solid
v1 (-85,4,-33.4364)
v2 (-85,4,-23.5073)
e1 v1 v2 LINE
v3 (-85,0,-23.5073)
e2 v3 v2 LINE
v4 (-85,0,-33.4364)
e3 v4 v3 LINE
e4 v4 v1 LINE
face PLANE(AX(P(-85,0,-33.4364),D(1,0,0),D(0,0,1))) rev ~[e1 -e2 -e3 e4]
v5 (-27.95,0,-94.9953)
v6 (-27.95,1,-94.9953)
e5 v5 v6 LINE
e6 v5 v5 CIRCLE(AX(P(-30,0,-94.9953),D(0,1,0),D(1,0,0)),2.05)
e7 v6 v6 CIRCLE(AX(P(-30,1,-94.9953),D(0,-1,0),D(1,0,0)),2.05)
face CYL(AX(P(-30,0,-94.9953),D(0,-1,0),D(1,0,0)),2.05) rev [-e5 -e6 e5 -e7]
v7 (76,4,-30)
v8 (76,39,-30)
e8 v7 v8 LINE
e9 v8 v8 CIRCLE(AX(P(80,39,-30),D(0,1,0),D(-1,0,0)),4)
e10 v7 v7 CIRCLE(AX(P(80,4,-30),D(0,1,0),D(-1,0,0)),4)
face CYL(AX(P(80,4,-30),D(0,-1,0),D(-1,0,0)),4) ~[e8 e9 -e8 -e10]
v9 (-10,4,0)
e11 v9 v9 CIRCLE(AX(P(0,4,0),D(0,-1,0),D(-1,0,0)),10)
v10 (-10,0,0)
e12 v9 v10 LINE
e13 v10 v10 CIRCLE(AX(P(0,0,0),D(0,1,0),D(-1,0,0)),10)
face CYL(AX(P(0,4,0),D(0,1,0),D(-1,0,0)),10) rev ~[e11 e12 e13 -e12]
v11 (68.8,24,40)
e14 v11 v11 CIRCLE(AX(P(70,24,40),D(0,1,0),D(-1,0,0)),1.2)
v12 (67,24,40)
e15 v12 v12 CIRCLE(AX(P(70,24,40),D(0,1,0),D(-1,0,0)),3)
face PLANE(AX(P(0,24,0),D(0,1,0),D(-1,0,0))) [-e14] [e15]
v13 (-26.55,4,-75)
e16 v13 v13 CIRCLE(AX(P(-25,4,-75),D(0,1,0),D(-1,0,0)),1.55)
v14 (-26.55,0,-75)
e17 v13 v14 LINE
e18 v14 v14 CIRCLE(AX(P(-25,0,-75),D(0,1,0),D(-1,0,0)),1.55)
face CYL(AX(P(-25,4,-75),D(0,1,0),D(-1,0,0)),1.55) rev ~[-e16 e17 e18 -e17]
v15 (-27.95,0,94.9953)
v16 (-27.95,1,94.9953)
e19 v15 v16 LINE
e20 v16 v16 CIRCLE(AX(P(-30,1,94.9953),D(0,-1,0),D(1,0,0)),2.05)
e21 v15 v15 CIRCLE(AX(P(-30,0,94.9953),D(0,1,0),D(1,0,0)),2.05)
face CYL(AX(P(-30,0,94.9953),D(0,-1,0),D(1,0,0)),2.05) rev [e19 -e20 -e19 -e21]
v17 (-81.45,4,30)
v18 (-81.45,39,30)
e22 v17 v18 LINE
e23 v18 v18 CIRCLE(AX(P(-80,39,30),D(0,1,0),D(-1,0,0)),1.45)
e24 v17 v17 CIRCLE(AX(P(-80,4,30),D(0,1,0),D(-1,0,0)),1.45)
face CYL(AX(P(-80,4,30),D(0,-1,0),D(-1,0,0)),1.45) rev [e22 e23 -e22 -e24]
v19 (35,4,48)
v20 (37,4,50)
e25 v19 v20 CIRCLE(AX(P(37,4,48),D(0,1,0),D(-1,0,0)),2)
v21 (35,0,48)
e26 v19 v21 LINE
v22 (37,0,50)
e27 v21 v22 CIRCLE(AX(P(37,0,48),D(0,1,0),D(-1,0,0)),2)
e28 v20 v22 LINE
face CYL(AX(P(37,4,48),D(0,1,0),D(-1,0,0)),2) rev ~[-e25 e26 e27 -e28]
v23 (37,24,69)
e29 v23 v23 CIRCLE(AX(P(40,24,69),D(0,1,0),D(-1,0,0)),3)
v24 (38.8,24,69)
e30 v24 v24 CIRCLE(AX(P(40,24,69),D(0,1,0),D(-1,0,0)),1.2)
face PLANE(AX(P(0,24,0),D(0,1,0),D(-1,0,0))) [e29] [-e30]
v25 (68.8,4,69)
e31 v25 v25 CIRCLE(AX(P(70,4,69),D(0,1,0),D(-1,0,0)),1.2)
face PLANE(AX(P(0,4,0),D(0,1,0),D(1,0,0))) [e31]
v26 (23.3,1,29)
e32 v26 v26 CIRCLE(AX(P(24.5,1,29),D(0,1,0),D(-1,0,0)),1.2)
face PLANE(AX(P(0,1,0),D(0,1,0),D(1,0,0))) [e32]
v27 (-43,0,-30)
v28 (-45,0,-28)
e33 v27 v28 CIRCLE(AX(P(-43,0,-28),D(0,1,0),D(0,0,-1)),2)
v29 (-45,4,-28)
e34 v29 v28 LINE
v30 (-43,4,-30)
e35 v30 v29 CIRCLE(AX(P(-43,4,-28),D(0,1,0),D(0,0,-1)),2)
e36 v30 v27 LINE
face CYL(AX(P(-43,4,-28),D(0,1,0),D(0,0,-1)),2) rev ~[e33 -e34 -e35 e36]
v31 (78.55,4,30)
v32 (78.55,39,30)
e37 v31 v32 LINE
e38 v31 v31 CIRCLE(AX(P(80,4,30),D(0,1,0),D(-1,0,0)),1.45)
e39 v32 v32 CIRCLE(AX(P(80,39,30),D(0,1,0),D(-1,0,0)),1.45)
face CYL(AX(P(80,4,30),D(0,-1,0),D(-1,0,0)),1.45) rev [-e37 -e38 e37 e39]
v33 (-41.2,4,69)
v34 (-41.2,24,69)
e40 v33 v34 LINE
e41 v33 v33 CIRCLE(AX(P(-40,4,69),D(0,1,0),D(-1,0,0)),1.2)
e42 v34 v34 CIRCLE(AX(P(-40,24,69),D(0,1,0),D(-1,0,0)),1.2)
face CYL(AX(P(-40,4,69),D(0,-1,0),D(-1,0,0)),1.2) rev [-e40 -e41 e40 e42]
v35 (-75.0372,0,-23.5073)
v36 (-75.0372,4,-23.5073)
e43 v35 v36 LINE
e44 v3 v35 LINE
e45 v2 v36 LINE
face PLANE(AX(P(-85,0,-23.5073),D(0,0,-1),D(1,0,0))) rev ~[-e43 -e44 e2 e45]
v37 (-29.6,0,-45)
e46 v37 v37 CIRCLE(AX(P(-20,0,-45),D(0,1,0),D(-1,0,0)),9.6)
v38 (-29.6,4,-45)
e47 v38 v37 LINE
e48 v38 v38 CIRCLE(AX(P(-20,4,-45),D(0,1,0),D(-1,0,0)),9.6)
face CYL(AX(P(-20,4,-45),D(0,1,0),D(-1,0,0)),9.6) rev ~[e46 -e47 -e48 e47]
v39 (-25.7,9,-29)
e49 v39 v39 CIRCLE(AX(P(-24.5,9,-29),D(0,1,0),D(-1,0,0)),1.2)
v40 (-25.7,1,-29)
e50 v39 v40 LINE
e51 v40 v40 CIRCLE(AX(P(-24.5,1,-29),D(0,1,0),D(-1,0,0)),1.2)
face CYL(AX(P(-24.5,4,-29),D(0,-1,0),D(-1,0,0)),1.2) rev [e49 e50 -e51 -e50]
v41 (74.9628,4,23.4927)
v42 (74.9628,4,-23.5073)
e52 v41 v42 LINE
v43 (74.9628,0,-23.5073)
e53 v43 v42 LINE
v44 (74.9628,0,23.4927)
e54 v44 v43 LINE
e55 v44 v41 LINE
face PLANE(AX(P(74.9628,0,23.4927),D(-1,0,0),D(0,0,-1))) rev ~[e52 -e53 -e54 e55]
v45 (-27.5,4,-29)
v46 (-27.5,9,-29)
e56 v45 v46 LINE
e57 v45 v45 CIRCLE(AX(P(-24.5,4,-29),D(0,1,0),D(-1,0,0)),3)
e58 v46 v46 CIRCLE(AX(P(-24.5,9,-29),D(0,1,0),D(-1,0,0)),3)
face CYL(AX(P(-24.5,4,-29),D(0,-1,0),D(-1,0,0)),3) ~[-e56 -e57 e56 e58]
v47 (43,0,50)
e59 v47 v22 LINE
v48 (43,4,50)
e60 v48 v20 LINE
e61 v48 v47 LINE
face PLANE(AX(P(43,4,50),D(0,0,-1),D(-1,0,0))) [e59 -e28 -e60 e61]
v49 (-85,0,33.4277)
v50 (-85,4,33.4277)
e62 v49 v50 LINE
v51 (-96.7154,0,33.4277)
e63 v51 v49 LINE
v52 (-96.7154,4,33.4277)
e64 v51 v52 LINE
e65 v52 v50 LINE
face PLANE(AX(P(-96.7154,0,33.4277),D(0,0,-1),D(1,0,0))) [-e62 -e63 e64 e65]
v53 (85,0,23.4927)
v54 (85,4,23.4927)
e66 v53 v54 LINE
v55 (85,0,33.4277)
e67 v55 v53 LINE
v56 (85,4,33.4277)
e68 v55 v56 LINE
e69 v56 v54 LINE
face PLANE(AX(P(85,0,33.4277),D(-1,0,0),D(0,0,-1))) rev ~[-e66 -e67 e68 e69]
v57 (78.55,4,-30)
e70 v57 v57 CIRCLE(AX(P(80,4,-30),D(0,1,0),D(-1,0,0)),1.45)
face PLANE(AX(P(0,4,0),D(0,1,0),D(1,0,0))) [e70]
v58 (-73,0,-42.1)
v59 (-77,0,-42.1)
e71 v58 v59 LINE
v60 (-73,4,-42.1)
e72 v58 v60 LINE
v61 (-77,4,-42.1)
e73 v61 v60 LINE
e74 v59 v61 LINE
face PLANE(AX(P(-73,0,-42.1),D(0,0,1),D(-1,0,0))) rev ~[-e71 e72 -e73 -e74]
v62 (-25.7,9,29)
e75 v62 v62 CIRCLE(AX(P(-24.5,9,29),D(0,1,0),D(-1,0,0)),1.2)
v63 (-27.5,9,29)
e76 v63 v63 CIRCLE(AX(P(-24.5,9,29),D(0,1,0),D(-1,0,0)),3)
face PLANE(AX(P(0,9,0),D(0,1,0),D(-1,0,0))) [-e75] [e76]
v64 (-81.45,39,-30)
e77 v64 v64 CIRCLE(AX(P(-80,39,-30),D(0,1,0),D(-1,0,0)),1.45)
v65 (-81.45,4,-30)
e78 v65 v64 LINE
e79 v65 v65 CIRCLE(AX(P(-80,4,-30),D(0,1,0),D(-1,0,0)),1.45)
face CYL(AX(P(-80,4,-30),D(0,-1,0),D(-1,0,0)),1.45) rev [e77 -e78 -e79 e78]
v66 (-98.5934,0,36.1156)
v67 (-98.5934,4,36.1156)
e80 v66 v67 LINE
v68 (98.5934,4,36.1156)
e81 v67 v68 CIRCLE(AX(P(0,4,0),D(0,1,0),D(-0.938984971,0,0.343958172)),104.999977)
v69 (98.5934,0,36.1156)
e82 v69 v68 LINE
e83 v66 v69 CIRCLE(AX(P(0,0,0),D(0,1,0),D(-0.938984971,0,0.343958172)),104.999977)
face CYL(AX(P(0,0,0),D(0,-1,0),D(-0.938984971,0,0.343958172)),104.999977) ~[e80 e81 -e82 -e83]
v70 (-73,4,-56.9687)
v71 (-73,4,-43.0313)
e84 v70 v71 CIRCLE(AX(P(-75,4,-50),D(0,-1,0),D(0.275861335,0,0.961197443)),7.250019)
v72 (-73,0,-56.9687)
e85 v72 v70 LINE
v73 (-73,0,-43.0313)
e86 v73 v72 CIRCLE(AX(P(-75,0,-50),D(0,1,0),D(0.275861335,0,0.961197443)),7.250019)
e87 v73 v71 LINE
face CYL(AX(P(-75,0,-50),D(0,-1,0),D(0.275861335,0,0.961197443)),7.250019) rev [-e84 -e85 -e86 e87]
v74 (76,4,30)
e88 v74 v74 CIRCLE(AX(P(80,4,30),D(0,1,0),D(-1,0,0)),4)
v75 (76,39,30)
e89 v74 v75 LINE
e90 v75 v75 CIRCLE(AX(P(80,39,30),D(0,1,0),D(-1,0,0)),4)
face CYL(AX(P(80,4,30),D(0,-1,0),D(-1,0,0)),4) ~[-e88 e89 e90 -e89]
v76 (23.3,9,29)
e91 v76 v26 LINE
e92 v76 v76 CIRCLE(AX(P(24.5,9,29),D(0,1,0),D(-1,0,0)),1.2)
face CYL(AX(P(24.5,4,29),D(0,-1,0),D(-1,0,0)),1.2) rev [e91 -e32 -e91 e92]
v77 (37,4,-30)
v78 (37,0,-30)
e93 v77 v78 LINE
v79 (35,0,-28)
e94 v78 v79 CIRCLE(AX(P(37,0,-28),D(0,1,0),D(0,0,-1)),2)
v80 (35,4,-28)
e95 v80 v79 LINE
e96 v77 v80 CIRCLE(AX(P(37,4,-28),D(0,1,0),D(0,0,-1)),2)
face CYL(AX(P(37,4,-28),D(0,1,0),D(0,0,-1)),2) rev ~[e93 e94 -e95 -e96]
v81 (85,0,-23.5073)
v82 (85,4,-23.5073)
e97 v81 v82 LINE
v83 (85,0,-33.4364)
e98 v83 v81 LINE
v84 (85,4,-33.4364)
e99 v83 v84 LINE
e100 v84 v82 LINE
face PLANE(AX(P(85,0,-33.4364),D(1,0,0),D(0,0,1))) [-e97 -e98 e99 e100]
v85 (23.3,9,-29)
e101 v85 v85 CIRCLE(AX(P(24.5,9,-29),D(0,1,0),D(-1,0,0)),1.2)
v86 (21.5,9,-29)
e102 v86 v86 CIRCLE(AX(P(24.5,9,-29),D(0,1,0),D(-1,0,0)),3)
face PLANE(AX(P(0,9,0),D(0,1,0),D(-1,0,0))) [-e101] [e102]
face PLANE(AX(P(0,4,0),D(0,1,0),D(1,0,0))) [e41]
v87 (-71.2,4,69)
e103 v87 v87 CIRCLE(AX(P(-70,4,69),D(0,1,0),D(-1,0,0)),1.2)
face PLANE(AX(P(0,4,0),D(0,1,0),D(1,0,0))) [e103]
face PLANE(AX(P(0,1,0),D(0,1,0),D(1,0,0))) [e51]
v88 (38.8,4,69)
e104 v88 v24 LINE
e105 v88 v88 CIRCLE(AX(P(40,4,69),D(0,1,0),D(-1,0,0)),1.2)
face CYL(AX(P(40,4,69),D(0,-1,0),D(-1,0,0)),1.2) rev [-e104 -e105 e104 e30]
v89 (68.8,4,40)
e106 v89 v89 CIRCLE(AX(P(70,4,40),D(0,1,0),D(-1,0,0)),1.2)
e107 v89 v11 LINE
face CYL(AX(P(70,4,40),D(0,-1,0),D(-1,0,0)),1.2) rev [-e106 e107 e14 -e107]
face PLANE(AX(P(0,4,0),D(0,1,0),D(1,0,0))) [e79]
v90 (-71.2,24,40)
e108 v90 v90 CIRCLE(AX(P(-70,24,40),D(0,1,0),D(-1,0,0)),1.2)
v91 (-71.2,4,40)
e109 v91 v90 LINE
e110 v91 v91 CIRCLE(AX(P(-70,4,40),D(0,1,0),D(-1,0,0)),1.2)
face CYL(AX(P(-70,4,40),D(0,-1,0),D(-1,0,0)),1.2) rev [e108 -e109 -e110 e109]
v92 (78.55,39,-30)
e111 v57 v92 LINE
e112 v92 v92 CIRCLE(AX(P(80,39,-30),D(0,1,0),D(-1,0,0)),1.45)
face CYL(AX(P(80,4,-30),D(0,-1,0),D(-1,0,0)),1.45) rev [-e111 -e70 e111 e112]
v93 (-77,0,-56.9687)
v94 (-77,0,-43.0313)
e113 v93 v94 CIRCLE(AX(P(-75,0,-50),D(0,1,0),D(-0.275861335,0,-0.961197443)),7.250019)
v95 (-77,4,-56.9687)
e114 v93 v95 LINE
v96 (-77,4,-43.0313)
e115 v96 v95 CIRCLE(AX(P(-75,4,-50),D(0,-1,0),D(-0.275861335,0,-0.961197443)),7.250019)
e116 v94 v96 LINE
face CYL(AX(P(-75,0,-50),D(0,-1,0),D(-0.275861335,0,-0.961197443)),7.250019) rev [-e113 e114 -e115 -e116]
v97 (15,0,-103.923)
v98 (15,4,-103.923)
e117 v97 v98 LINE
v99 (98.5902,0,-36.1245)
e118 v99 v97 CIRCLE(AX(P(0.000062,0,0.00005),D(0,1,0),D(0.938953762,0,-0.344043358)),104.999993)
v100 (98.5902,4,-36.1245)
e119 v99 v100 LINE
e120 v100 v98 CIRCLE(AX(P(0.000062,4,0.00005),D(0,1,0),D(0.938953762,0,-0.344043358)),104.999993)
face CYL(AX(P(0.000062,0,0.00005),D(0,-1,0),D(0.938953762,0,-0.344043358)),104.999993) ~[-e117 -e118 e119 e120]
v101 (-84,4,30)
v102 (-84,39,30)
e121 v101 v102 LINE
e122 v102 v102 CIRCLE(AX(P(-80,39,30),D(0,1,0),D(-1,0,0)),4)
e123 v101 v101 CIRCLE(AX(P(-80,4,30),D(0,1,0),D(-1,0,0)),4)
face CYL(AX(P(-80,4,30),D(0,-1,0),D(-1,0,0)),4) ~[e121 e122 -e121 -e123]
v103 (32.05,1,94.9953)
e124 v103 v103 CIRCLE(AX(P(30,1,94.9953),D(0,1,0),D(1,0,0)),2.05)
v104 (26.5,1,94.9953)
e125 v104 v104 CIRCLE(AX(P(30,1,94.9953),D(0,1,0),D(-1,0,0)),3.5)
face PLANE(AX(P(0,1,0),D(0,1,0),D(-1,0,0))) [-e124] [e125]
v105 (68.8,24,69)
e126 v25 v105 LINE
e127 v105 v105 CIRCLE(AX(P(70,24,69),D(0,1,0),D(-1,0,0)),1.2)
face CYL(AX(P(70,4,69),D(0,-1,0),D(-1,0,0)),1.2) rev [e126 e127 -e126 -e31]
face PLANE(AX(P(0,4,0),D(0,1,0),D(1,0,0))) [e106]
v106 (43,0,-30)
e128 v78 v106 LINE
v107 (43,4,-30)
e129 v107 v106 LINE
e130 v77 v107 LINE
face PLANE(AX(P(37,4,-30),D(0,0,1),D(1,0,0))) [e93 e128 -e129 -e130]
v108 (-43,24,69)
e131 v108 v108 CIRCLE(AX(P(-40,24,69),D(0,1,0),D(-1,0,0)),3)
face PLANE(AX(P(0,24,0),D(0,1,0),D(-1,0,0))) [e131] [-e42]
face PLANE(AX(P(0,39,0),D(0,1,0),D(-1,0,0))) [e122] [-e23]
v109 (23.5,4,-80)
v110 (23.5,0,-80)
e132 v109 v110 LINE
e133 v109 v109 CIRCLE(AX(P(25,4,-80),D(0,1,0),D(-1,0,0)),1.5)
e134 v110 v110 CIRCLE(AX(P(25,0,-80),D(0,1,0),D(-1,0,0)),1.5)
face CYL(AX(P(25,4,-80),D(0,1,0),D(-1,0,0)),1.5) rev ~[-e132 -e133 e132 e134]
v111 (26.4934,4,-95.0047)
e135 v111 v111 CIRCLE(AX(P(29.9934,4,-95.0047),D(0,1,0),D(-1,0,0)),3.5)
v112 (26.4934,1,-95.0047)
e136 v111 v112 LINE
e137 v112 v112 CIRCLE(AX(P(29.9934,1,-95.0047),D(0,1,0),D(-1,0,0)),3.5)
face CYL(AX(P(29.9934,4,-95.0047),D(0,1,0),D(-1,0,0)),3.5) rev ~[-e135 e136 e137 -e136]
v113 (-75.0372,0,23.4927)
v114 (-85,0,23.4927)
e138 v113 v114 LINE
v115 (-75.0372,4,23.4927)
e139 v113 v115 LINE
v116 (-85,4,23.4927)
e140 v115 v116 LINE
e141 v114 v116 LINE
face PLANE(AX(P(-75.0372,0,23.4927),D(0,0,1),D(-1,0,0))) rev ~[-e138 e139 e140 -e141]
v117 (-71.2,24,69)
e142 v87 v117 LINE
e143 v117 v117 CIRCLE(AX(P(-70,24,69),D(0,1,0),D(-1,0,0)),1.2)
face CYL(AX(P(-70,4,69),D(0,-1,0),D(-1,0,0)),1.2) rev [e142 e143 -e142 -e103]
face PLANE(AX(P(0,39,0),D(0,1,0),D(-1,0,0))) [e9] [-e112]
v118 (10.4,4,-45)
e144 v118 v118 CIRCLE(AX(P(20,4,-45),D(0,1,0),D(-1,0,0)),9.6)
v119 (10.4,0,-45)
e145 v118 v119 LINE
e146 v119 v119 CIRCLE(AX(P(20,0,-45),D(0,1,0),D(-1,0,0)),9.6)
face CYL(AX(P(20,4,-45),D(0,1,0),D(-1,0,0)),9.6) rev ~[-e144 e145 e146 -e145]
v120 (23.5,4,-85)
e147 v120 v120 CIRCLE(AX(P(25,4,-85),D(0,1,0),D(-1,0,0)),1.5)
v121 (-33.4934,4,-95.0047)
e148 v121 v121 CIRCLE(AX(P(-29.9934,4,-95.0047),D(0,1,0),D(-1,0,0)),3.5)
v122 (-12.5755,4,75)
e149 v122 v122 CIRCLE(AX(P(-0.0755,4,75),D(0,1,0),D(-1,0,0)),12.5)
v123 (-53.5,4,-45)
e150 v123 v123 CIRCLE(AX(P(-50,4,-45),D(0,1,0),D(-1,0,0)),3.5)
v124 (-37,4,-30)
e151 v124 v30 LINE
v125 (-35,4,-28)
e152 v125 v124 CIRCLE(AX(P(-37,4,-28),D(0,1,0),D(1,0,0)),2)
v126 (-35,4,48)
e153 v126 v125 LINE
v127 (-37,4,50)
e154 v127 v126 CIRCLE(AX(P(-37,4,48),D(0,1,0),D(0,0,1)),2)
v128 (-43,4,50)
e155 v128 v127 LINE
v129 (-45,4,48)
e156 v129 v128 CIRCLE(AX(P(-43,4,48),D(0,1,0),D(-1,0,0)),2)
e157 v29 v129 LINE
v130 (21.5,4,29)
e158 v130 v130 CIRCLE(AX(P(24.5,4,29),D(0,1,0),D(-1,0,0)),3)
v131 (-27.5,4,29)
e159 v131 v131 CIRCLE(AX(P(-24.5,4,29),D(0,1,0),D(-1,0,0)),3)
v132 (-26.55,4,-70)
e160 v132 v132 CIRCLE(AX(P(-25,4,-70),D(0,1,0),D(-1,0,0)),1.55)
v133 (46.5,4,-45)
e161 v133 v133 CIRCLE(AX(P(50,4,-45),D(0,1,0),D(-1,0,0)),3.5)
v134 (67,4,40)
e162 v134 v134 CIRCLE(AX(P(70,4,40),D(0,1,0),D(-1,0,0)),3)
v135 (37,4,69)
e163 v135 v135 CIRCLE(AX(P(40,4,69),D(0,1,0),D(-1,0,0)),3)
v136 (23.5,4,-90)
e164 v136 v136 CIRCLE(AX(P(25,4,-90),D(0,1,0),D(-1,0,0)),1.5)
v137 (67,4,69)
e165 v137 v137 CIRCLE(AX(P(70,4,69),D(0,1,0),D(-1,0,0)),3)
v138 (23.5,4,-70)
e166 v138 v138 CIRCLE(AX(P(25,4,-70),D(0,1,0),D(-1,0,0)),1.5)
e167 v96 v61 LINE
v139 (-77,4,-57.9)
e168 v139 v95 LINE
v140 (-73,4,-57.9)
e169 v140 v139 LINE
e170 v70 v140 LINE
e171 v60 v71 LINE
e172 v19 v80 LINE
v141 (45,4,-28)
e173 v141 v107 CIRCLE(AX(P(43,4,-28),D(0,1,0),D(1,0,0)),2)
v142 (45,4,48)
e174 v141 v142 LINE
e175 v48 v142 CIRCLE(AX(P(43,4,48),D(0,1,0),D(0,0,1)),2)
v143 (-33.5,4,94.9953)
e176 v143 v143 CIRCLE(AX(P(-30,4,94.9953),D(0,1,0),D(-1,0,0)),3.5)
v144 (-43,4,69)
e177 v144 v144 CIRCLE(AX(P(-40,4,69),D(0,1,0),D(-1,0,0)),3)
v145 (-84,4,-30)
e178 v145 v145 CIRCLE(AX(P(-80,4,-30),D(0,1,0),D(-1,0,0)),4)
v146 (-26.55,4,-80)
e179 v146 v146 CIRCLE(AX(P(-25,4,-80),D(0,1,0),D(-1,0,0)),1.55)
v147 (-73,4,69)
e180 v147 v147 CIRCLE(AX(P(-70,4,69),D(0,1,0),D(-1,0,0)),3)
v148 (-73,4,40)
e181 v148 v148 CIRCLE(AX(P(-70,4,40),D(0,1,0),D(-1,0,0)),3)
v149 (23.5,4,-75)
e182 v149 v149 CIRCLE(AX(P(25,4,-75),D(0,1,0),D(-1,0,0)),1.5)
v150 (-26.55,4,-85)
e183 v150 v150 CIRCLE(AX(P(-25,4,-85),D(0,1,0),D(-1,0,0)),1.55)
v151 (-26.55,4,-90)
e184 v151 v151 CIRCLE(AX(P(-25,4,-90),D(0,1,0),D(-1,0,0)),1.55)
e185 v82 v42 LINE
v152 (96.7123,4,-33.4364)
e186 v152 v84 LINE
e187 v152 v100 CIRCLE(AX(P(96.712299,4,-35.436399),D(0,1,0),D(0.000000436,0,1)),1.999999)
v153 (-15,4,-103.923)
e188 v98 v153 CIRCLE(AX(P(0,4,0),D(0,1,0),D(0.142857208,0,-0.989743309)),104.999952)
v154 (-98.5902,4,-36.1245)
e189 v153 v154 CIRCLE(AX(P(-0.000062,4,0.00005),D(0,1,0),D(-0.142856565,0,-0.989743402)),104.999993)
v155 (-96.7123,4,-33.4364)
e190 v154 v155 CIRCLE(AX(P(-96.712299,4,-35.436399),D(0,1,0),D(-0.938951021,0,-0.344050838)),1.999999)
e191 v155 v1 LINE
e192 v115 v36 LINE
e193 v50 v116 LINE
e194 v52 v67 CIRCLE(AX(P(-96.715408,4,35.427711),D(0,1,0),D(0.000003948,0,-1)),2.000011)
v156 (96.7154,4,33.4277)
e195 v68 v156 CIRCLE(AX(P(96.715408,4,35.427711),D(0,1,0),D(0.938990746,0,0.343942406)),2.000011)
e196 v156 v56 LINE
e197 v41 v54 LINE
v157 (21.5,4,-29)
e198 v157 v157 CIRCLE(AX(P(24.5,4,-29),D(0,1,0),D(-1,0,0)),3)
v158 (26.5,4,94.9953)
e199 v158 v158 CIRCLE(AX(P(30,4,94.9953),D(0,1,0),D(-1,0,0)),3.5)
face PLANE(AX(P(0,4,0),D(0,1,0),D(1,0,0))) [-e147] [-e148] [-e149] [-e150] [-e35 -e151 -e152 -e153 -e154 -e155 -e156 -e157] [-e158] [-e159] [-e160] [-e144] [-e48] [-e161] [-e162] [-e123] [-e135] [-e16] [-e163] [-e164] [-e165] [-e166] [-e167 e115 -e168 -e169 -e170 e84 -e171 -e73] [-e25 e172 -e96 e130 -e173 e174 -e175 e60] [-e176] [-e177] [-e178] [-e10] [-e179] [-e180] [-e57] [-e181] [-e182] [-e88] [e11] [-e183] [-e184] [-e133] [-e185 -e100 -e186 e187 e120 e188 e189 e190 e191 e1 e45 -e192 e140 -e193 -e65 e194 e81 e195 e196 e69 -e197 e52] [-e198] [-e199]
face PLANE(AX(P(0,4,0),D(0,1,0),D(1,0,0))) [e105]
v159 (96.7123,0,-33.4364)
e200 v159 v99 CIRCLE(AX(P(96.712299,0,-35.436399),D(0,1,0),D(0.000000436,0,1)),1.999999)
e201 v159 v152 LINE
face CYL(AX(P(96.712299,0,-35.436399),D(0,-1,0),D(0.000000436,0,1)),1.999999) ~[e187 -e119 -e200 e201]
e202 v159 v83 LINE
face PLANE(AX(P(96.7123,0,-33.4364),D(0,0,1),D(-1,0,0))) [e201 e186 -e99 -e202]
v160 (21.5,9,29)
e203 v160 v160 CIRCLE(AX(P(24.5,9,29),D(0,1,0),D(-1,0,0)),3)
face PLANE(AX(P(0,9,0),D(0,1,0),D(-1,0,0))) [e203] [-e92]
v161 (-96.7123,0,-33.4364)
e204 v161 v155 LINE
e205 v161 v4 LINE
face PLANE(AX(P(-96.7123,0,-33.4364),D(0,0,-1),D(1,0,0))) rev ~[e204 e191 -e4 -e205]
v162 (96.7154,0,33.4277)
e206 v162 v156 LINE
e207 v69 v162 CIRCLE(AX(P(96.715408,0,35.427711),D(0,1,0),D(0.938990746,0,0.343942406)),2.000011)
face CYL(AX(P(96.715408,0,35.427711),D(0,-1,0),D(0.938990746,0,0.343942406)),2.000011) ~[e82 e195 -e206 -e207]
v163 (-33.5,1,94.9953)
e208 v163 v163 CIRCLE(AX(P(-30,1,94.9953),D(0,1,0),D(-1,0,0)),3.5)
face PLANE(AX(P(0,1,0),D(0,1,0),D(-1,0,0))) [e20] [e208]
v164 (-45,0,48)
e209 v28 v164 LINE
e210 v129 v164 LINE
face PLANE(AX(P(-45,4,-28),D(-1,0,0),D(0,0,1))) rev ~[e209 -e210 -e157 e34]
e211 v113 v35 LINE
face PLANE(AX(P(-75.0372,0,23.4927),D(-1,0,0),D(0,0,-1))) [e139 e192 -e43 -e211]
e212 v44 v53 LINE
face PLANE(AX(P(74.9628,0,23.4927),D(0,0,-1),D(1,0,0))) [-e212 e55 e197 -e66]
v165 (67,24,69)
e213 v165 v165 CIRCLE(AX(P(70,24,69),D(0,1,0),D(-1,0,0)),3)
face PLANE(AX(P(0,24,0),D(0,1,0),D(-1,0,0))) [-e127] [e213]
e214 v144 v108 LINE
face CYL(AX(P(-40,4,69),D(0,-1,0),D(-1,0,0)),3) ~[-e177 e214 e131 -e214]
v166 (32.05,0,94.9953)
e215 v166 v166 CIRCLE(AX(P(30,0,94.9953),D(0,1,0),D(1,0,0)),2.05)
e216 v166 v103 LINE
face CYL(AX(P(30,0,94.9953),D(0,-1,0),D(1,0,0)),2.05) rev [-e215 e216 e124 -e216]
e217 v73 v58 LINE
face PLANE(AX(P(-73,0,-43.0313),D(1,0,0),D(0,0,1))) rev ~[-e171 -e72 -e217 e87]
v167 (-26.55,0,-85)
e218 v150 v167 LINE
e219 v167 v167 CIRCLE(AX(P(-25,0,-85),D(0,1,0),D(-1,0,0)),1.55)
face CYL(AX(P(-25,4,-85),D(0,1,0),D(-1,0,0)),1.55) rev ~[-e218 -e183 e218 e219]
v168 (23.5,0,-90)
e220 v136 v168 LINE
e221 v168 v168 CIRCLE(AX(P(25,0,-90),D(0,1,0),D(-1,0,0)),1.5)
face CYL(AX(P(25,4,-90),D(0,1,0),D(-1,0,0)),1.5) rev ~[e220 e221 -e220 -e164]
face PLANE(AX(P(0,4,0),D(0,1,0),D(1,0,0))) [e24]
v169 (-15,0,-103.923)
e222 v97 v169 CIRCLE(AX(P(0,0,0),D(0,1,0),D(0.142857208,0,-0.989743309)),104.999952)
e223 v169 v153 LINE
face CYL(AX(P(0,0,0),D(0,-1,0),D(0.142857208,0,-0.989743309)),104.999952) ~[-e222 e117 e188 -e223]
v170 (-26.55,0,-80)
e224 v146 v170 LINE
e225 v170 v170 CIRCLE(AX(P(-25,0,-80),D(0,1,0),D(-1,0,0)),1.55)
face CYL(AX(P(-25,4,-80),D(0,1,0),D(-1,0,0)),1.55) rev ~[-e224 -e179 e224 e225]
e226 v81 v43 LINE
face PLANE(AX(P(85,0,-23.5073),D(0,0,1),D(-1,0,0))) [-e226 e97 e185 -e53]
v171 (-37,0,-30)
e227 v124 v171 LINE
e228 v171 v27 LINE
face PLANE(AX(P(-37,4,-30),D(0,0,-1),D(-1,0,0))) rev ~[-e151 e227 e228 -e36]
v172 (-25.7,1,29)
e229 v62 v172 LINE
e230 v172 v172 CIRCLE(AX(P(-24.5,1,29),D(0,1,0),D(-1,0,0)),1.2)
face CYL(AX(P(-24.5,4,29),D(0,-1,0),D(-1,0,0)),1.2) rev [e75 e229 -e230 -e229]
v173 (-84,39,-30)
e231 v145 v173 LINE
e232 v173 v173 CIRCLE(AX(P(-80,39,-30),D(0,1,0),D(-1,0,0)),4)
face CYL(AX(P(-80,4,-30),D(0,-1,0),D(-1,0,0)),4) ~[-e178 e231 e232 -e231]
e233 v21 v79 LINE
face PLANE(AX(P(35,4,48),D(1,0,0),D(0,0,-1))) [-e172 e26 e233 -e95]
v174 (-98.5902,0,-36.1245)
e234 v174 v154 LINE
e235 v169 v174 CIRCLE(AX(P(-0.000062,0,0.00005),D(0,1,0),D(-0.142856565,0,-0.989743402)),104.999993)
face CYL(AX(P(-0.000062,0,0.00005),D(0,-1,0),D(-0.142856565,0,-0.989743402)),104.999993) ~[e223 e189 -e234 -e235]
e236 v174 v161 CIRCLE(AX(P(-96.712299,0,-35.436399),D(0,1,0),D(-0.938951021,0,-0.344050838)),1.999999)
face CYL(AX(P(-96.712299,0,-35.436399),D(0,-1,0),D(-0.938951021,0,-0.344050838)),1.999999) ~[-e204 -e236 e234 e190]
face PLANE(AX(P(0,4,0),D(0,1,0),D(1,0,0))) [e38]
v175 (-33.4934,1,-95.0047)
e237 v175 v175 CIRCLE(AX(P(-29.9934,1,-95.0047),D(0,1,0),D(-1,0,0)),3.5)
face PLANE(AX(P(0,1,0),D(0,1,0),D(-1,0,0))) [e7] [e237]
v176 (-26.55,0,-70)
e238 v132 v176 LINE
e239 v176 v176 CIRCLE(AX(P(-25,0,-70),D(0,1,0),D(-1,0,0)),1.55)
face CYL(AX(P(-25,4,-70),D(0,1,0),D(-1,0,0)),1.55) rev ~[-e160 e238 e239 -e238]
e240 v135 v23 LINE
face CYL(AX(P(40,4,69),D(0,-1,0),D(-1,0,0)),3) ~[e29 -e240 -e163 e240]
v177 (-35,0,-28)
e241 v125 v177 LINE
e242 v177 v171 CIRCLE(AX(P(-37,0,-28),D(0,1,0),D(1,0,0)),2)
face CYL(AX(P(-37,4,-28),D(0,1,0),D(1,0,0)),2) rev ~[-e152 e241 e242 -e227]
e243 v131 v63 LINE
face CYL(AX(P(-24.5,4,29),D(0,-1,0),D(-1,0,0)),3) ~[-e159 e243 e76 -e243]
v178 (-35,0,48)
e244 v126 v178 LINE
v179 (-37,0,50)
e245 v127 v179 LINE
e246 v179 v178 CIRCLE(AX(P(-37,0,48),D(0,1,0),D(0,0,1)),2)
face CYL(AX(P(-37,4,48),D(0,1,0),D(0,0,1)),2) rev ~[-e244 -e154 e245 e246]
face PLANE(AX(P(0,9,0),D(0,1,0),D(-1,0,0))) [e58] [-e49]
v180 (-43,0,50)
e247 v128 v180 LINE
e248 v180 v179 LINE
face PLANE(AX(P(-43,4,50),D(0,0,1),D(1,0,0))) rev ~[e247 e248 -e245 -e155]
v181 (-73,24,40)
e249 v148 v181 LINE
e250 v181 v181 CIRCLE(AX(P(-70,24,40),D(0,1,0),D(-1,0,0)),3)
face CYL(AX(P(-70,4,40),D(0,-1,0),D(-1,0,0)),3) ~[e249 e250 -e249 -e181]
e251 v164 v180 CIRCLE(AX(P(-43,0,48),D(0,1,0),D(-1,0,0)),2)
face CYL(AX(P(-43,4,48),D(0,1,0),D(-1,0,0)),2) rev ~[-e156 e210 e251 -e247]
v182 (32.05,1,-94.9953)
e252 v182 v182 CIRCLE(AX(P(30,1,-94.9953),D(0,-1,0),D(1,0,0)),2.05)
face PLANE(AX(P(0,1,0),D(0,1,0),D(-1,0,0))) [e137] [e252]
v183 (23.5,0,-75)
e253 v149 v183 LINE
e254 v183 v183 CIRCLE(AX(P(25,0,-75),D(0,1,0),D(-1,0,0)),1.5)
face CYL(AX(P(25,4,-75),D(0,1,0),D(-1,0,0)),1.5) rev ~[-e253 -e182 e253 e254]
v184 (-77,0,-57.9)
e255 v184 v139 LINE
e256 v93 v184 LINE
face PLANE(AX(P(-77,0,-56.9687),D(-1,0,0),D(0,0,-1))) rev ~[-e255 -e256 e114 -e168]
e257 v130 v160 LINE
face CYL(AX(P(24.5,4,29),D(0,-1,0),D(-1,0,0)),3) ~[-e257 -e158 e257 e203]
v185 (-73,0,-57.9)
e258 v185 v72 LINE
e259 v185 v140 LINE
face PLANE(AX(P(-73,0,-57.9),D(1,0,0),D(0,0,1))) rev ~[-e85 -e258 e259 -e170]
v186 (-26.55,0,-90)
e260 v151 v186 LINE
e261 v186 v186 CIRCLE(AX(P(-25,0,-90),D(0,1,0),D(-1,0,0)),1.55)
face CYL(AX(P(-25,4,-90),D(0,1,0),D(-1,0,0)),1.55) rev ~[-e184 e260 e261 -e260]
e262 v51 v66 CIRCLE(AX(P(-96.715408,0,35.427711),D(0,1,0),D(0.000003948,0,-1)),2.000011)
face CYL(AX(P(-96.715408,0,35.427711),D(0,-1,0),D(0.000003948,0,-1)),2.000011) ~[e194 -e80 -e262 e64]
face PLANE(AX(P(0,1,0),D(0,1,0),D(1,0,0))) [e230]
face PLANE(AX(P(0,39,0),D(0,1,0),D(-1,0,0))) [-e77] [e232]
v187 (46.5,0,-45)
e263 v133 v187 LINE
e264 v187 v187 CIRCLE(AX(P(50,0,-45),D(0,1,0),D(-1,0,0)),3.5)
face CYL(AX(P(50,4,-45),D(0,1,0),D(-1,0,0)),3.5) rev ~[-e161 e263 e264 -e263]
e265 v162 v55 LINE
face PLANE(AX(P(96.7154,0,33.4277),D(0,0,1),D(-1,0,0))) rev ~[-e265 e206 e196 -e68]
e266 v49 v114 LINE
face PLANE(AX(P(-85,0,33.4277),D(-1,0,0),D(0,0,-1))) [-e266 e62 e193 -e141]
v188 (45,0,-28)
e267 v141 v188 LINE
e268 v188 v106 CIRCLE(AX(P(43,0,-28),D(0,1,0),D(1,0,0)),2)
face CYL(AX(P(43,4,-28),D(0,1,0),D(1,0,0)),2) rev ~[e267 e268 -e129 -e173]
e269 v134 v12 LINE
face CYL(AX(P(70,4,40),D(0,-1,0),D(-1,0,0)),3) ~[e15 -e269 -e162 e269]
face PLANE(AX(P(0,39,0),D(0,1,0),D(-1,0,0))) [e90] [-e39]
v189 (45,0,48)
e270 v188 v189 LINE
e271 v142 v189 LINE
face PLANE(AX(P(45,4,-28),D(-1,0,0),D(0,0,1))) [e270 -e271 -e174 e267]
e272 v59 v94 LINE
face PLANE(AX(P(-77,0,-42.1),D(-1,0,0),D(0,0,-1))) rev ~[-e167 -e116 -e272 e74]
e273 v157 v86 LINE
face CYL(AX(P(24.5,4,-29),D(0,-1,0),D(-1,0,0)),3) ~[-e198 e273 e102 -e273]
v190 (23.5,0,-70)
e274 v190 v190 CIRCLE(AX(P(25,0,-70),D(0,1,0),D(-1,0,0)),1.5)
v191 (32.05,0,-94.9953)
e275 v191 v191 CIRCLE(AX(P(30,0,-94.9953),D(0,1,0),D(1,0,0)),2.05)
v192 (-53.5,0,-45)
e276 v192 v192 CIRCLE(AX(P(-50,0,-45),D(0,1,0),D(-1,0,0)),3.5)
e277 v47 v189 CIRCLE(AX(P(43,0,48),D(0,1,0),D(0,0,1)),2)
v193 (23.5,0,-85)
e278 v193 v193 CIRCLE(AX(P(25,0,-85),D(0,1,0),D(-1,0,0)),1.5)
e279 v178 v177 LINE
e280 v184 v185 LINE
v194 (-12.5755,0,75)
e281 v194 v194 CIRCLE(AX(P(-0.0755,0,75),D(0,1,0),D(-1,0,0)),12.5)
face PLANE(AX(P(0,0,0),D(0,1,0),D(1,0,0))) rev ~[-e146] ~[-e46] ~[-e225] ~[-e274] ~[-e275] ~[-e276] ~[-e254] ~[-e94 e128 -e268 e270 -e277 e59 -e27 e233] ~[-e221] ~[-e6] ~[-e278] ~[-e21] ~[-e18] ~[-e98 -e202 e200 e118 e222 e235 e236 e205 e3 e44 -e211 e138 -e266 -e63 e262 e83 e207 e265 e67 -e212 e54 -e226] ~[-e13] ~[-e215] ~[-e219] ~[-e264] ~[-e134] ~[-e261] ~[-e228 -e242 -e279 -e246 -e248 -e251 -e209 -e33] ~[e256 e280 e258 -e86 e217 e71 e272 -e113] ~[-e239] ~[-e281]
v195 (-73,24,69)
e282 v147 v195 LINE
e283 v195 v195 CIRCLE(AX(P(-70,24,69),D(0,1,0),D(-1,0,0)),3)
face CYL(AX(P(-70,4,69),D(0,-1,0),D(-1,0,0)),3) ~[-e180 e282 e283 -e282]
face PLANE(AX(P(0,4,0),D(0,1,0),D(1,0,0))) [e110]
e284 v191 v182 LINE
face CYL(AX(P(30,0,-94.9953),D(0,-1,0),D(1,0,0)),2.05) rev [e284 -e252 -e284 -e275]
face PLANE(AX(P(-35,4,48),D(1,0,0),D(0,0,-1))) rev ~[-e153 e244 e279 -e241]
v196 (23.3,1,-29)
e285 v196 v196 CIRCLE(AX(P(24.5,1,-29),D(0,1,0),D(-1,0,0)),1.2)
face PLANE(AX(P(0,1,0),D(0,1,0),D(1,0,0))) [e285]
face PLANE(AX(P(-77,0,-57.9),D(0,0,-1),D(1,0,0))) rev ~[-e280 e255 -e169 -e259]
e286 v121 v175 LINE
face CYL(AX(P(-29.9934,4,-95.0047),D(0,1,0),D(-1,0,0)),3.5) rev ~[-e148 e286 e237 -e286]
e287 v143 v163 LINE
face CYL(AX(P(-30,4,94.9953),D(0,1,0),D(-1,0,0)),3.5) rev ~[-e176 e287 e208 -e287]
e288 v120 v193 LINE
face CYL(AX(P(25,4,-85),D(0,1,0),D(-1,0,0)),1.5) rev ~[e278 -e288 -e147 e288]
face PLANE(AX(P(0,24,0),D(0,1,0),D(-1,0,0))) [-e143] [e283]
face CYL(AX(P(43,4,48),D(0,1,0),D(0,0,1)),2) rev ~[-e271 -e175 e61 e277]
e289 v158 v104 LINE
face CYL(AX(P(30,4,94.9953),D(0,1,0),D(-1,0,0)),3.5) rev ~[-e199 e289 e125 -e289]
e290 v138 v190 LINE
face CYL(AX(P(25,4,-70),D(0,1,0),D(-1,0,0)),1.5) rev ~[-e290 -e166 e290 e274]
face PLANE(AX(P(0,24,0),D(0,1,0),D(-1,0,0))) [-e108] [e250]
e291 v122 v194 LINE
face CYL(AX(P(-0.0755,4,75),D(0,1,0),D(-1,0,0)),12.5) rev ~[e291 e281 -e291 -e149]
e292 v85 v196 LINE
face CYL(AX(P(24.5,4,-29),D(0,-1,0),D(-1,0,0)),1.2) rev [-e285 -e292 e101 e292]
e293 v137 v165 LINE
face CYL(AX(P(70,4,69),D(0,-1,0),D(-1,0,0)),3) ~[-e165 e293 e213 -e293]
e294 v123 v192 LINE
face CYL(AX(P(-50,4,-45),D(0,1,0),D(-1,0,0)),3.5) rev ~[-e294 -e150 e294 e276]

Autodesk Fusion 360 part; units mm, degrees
sketch "podklad" plane through (0, 0, 0) normal (0, 1, 0) x (1, 0, 0)
  line L0 (-75.0372, -23.4927) -> (-85, -23.4927)
  arc A0 (96.7123, 33.4364) -> (98.5902, 36.1245) centre (96.7123, 35.4364) ccw
  line L1 (85, -33.4277) -> (85, -23.4927)
  line L2 (-75.0372, -23.4927) -> (-75.0372, 23.5073)
  line L3 (74.9628, -23.4927) -> (74.9628, 23.5073)
  line L4 (0, 105) -> (0, -105) construction
  line L5 (-85, 23.5073) -> (-75.0372, 23.5073)
  arc A1 (-98.5902, 36.1245) -> (-96.7123, 33.4364) centre (-96.7123, 35.4364) ccw
  arc A2 (-96.7154, -33.4277) -> (-98.5934, -36.1156) centre (-96.7154, -35.4277) ccw
  line L6 (74.9628, -23.4927) -> (85, -23.4927)
  line L7 (85, 23.5073) -> (74.9628, 23.5073)
  line L8 (-85, 33.4364) -> (-85, 23.5073)
  arc A3 (-98.5934, -36.1156) -> (98.5934, -36.1156) centre (0, 0) ccw
  line L9 (85, 33.4364) -> (85, 23.5073)
  line L10 (96.7123, 33.4364) -> (85, 33.4364)
  line L11 (-96.7154, -33.4277) -> (-85, -33.4277)
  arc A4 (98.5934, -36.1156) -> (96.7154, -33.4277) centre (96.7154, -35.4277) ccw
  arc A5 (98.5902, 36.1245) -> (15, 103.923) centre (0, 0) ccw
  arc A6 (15, 103.923) -> (-15, 103.923) centre (0, 0) ccw
  arc A7 (-15, 103.923) -> (-98.5902, 36.1245) centre (0, 0) ccw
  line L12 (-96.7123, 33.4364) -> (-85, 33.4364)
  line L13 (96.7154, -33.4277) -> (85, -33.4277)
  line L14 (-85, -33.4277) -> (-85, -23.4927)
  circle A8 centre (30, -94.9953) radius 2.05
  line L15 (2.5, 0) -> (20, 0)
  line L16 (0, -20) -> (0, -2.5)
  circle A9 centre (-30, -94.9953) radius 2.05
  circle A10 centre (-30, 94.9953) radius 2.05
  circle A11 centre (30, 94.9953) radius 2.05
  line L17 (-79.8375, 50) -> (-70.1625, 50) construction
  line L18 (-75, 54.4496) -> (-75, 45.5504) construction
  line L19 (-77, 57.9) -> (-73, 57.9)
  line L20 (-73, 42.1) -> (-77, 42.1)
  line L21 (-73, 57.9) -> (-73, 56.9687)
  line L22 (-73, 43.0313) -> (-73, 42.1)
  line L23 (-77, 42.1) -> (-77, 43.0313)
  line L24 (-77, 56.9687) -> (-77, 57.9)
  arc A12 (-77, 56.9687) -> (-77, 43.0313) centre (-75, 50) ccw
  arc A13 (-73, 43.0313) -> (-73, 56.9687) centre (-75, 50) ccw
  point P0 (-7.5, -102.9967)
  point P1 (-82.0372, 22.8073)
  point P2 (-17.0372, -22.7927)
  point P3 (81.9628, 22.8073)
  point P4 (-0.0372, 0.0073)
  point P5 (-82.0372, -22.7927)
  point P6 (16.9628, 27.0073)
  point P7 (16.9628, 22.8073)
  point P8 (-17.0372, 27.0073)
  point P9 (16.9628, -22.7927)
  point P10 (81.9628, -22.7927)
  point P11 (16.9628, -26.9927)
  dimension "d1" = 210
  dimension "d2" = 2
  dimension "d3" = 2
  dimension "d4" = 2
  dimension "d5" = 2
  dimension "d39" = 4.1
  dimension "d215" = 14.5
  dimension "d216" = 15.8
  dimension "d217" = 4
  dimension "d218" = 50
  dimension "d219" = 75
extrude "Extrude1" add sketch "podklad" along normal blind 4 contours L0 A0 L1 L2 L3 L5 A1 A2 L6 L7 L8 A3 L9 L10 L11 A4 A5 A6 A7 L12 L13 L14 | A9 | A10 | A11 | L19 L20 L21 L22 L23 L24 A12 A13
sketch "diry_hlavy_sroubu" plane through (0, 4, 0) normal (0, 1, 0) x (-1, 0, 0)
  circle A0 centre (-30, 94.9953) radius 2.05
  arc A1 (96.7154, 33.4277) -> (98.5934, 36.1156) centre (96.7154, 35.4277) ccw
  arc A2 (98.5934, 36.1156) -> (-98.5934, 36.1156) centre (0, 0) ccw
  arc A3 (-98.5934, 36.1156) -> (-96.7154, 33.4277) centre (-96.7154, 35.4277) ccw
  line L0 (-96.7154, 33.4277) -> (-85, 33.4277)
  line L1 (-85, 33.4277) -> (-85, 23.4927)
  line L2 (-85, 23.4927) -> (-74.9628, 23.4927)
  line L3 (-74.9628, 23.4927) -> (-74.9628, -23.5073)
  line L4 (-74.9628, -23.5073) -> (-85, -23.5073)
  line L5 (-85, -23.5073) -> (-85, -33.4364)
  line L6 (-85, -33.4364) -> (-96.7123, -33.4364)
  arc A4 (-96.7123, -33.4364) -> (-98.5902, -36.1245) centre (-96.7123, -35.4364) ccw
  arc A5 (-98.5902, -36.1245) -> (98.5902, -36.1245) centre (0, 0) ccw
  arc A6 (98.5902, -36.1245) -> (96.7123, -33.4364) centre (96.7123, -35.4364) ccw
  line L7 (96.7123, -33.4364) -> (85, -33.4364)
  line L8 (85, -33.4364) -> (85, -23.5073)
  line L9 (85, -23.5073) -> (75.0372, -23.5073)
  line L10 (75.0372, -23.5073) -> (75.0372, 23.4927)
  line L11 (75.0372, 23.4927) -> (85, 23.4927)
  line L12 (85, 23.4927) -> (85, 33.4277)
  line L13 (85, 33.4277) -> (96.7154, 33.4277)
  circle A7 centre (29.9934, -95.0047) radius 3.5
  circle A8 centre (-29.9934, -95.0047) radius 3.5
  circle A9 centre (30, 94.9953) radius 3.5
  circle A10 centre (-30, 94.9953) radius 3.5
  dimension "d55" = 7
  dimension "d56" = 7
  dimension "d57" = 7
  dimension "d58" = 7
extrude "Extrude3" cut sketch "diry_hlavy_sroubu" against normal blind 3 contours A7 | A8 | A9 | A10
sketch "sloupky_rpi" plane through (0, 4, 0) normal (0, 1, 0) x (-1, 0, 0)
  circle A0 centre (-30, 94.9953) radius 3.5
  circle A1 centre (29.9934, -95.0047) radius 3.5
  circle A2 centre (30, 94.9953) radius 3.5
  circle A3 centre (-29.9934, -95.0047) radius 3.5
  arc A4 (96.7154, 33.4277) -> (98.5934, 36.1156) centre (96.7154, 35.4277) ccw
  arc A5 (98.5934, 36.1156) -> (-98.5934, 36.1156) centre (0, 0) ccw
  arc A6 (-98.5934, 36.1156) -> (-96.7154, 33.4277) centre (-96.7154, 35.4277) ccw
  line L0 (-96.7154, 33.4277) -> (-85, 33.4277)
  line L1 (-85, 33.4277) -> (-85, 23.4927)
  line L2 (-85, 23.4927) -> (-74.9628, 23.4927)
  line L3 (-74.9628, 23.4927) -> (-74.9628, -23.5073)
  line L4 (-74.9628, -23.5073) -> (-85, -23.5073)
  line L5 (-85, -23.5073) -> (-85, -33.4364)
  line L6 (-85, -33.4364) -> (-96.7123, -33.4364)
  arc A7 (-96.7123, -33.4364) -> (-98.5902, -36.1245) centre (-96.7123, -35.4364) ccw
  arc A8 (-98.5902, -36.1245) -> (98.5902, -36.1245) centre (0, 0) ccw
  arc A9 (98.5902, -36.1245) -> (96.7123, -33.4364) centre (96.7123, -35.4364) ccw
  line L7 (96.7123, -33.4364) -> (85, -33.4364)
  line L8 (85, -33.4364) -> (85, -23.5073)
  line L9 (85, -23.5073) -> (75.0372, -23.5073)
  line L10 (75.0372, -23.5073) -> (75.0372, 23.4927)
  line L11 (75.0372, 23.4927) -> (85, 23.4927)
  line L12 (85, 23.4927) -> (85, 33.4277)
  line L13 (85, 33.4277) -> (96.7154, 33.4277)
  line L14 (24.5, -29) -> (-24.5, -29) construction
  line L15 (-24.5, -29) -> (-24.5, 29) construction
  line L16 (-24.5, 29) -> (24.5, 29) construction
  line L17 (24.5, 29) -> (24.5, -29) construction
  line L18 (0, 1.75) -> (0, 22.5)
  line L19 (-2.5, 0) -> (-20, 0)
  circle A10 centre (-24.5, -29) radius 1.2
  circle A11 centre (-24.5, -29) radius 3
  circle A12 centre (24.5, -29) radius 1.2
  circle A13 centre (24.5, -29) radius 3
  circle A14 centre (24.5, 29) radius 1.2
  circle A15 centre (24.5, 29) radius 3
  circle A16 centre (-24.5, 29) radius 1.2
  circle A17 centre (-24.5, 29) radius 3
  dimension "d159" = 49
  dimension "d160" = 58
  dimension "d161" = 29
  dimension "d162" = 2.4
  dimension "d163" = 6
  dimension "d164" = 2.4
  dimension "d165" = 6
  dimension "d166" = 2.4
  dimension "d167" = 6
  dimension "d168" = 2.4
  dimension "d169" = 6
extrude "Extrude19" add sketch "sloupky_rpi" along normal blind 5 contours A11 | A13 | A15 | A17
extrude "Extrude20" cut 4 faces at (-23.7873, 4, 29.3432) (25.0231, 4, 28.6755) (25.2559, 4, -28.7668) (-23.7873, 4, -28.6568) along direction (0, -1, 0) blind 3
sketch "pruchodky" plane through (0, 4, 0) normal (0, 1, 0) x (-1, 0, 0)
  circle A0 centre (24.5, 29) radius 3
  circle A1 centre (24.5, -29) radius 3
  circle A2 centre (-30, 94.9953) radius 3.5
  circle A3 centre (29.9934, -95.0047) radius 3.5
  circle A4 centre (30, 94.9953) radius 3.5
  circle A5 centre (-29.9934, -95.0047) radius 3.5
  arc A6 (96.7154, 33.4277) -> (98.5934, 36.1156) centre (96.7154, 35.4277) ccw
  arc A7 (98.5934, 36.1156) -> (-98.5934, 36.1156) centre (0, 0) ccw
  arc A8 (-98.5934, 36.1156) -> (-96.7154, 33.4277) centre (-96.7154, 35.4277) ccw
  line L0 (-96.7154, 33.4277) -> (-85, 33.4277)
  line L1 (-85, 33.4277) -> (-85, 23.4927)
  line L2 (-85, 23.4927) -> (-74.9628, 23.4927)
  line L3 (-74.9628, 23.4927) -> (-74.9628, -23.5073)
  line L4 (-74.9628, -23.5073) -> (-85, -23.5073)
  line L5 (-85, -23.5073) -> (-85, -33.4364)
  line L6 (-85, -33.4364) -> (-96.7123, -33.4364)
  arc A9 (-96.7123, -33.4364) -> (-98.5902, -36.1245) centre (-96.7123, -35.4364) ccw
  arc A10 (-98.5902, -36.1245) -> (98.5902, -36.1245) centre (0, 0) ccw
  arc A11 (98.5902, -36.1245) -> (96.7123, -33.4364) centre (96.7123, -35.4364) ccw
  line L7 (96.7123, -33.4364) -> (85, -33.4364)
  line L8 (85, -33.4364) -> (85, -23.5073)
  line L9 (85, -23.5073) -> (75.0372, -23.5073)
  line L10 (75.0372, -23.5073) -> (75.0372, 23.4927)
  line L11 (75.0372, 23.4927) -> (85, 23.4927)
  line L12 (85, 23.4927) -> (85, 33.4277)
  line L13 (85, 33.4277) -> (96.7154, 33.4277)
  circle A12 centre (-24.5, -29) radius 3
  circle A13 centre (-24.5, 29) radius 3
  line L14 (25, -90) -> (-25, -90) construction
  line L15 (0, 1.75) -> (0, 22.5) construction
  line L16 (-2.5, 0) -> (-20, 0) construction
  circle A14 centre (25, -90) radius 1.55
  circle A15 centre (-25, -90) radius 1.5
  circle A16 centre (0, 0) radius 10
  line L17 (50, -45) -> (-50, -45) construction
  circle A17 centre (50, -45) radius 3.5
  circle A18 centre (-50, -45) radius 3.5
  circle A19 centre (20, -45) radius 9.6
  circle A20 centre (-20, -45) radius 9.6
  line L18 (0, 20) -> (0, 2.5)
  circle A21 centre (0.0755, 75) radius 12.5
  line L19 (37, -30) -> (43, -30)
  line L20 (45, -28) -> (45, 48)
  line L21 (43, 50) -> (37, 50)
  line L22 (35, 48) -> (35, -28)
  arc A22 (43, -30) -> (45, -28) centre (43, -28) ccw
  arc A23 (35, -28) -> (37, -30) centre (37, -28) ccw
  arc A24 (45, 48) -> (43, 50) centre (43, 48) ccw
  arc A25 (37, 50) -> (35, 48) centre (37, 48) ccw
  line L23 (-45, -28) -> (-45, 48)
  line L24 (-37, -30) -> (-43, -30)
  line L25 (-35, 48) -> (-35, -28)
  line L26 (-43, 50) -> (-37, 50)
  arc A26 (-45, -28) -> (-43, -30) centre (-43, -28) ccw
  arc A27 (-37, -30) -> (-35, -28) centre (-37, -28) ccw
  arc A28 (-43, 50) -> (-45, 48) centre (-43, 48) ccw
  arc A29 (-35, 48) -> (-37, 50) centre (-37, 48) ccw
  circle A30 centre (-25, -85) radius 1.5
  circle A31 centre (25, -85) radius 1.55
  circle A32 centre (-25, -80) radius 1.5
  circle A33 centre (25, -80) radius 1.55
  circle A34 centre (-25, -75) radius 1.5
  circle A35 centre (25, -75) radius 1.55
  circle A36 centre (-25, -70) radius 1.5
  circle A37 centre (25, -70) radius 1.55
  point P0 (45, -25)
  point P1 (35, 25)
  point P2 (35, -30)
  point P3 (45, -30)
  point P4 (35, 50)
  point P5 (25, -85)
  point P6 (25, -80)
  point P7 (25, -75)
  point P8 (25, -70)
  dimension "d174" = 50
  dimension "d175" = 90
  dimension "d176" = 3.1
  dimension "d177" = 3
  dimension "d178" = 20
  dimension "d187" = 100
  dimension "d188" = 45
  dimension "d189" = 7
  dimension "d190" = 7
  dimension "d191" = 19.2
  dimension "d192" = 19.2
  dimension "d193" = 30
  dimension "d194" = 30
  dimension "d199" = 25
  dimension "d200" = 75
  dimension "d210" = 10
  dimension "d211" = 80
  dimension "d212" = 35
  dimension "d213" = 30
  dimension "d214" = 2
  dimension "d222" = 0
  dimension "d223" = 5
extrude "Extrude22" cut sketch "pruchodky" against normal blind 10 contours A14 | A15 | A16 | A17 | A18 | A19 | A20 | A21 | L19 L20 L21 L22 A22 A23 A24 A25 | L23 L24 L25 L26 A26 A27 A28 A29 | A30 | A31 | A32 | A33 | A34 | A35 | A36 | A37
sketch "dalsi_patro" plane through (0, 4, 0) normal (0, 1, 0) x (-1, 0, 0)
  circle A0 centre (24.5, 29) radius 3
  circle A1 centre (24.5, -29) radius 3
  circle A2 centre (-30, 94.9953) radius 3.5
  circle A3 centre (29.9934, -95.0047) radius 3.5
  circle A4 centre (30, 94.9953) radius 3.5
  circle A5 centre (-29.9934, -95.0047) radius 3.5
  arc A6 (96.7154, 33.4277) -> (98.5934, 36.1156) centre (96.7154, 35.4277) ccw
  arc A7 (98.5934, 36.1156) -> (-98.5934, 36.1156) centre (0, 0) ccw
  arc A8 (-98.5934, 36.1156) -> (-96.7154, 33.4277) centre (-96.7154, 35.4277) ccw
  line L0 (-96.7154, 33.4277) -> (-85, 33.4277)
  line L1 (-85, 33.4277) -> (-85, 23.4927)
  line L2 (-85, 23.4927) -> (-74.9628, 23.4927)
  line L3 (-74.9628, 23.4927) -> (-74.9628, -23.5073)
  line L4 (-74.9628, -23.5073) -> (-85, -23.5073)
  line L5 (-85, -23.5073) -> (-85, -33.4364)
  line L6 (-85, -33.4364) -> (-96.7123, -33.4364)
  arc A9 (-96.7123, -33.4364) -> (-98.5902, -36.1245) centre (-96.7123, -35.4364) ccw
  arc A10 (-98.5902, -36.1245) -> (98.5902, -36.1245) centre (0, 0) ccw
  arc A11 (98.5902, -36.1245) -> (96.7123, -33.4364) centre (96.7123, -35.4364) ccw
  line L7 (96.7123, -33.4364) -> (85, -33.4364)
  line L8 (85, -33.4364) -> (85, -23.5073)
  line L9 (85, -23.5073) -> (75.0372, -23.5073)
  line L10 (75.0372, -23.5073) -> (75.0372, 23.4927)
  line L11 (75.0372, 23.4927) -> (85, 23.4927)
  line L12 (85, 23.4927) -> (85, 33.4277)
  line L13 (85, 33.4277) -> (96.7154, 33.4277)
  circle A12 centre (-24.5, -29) radius 3
  circle A13 centre (-24.5, 29) radius 3
  circle A14 centre (0, 0) radius 10
  circle A15 centre (50, -45) radius 3.5
  circle A16 centre (20, -45) radius 9.6
  circle A17 centre (0.0755, 75) radius 12.5
  circle A18 centre (-50, -45) radius 3.5
  circle A19 centre (-20, -45) radius 9.6
  circle A20 centre (80, 30) radius 4
  line L14 (0, 20) -> (0, 2.5)
  line L15 (-2.5, 0) -> (-20, 0)
  circle A21 centre (80, 30) radius 1.45
  circle A22 centre (-80, 30) radius 4
  circle A23 centre (-80, 30) radius 1.45
  circle A24 centre (80, -30) radius 4
  circle A25 centre (-80, -30) radius 4
  circle A26 centre (-80, -30) radius 1.45
  circle A27 centre (80, -30) radius 1.45
  line L16 (-35, 48) -> (-35, -28)
  arc A28 (-37, -30) -> (-35, -28) centre (-37, -28) ccw
  line L17 (-37, -30) -> (-43, -30)
  arc A29 (-45, -28) -> (-43, -30) centre (-43, -28) ccw
  line L18 (-45, -28) -> (-45, 48)
  arc A30 (-43, 50) -> (-45, 48) centre (-43, 48) ccw
  line L19 (-43, 50) -> (-37, 50)
  arc A31 (-35, 48) -> (-37, 50) centre (-37, 48) ccw
  line L20 (35, -28) -> (35, 48)
  arc A32 (37, 50) -> (35, 48) centre (37, 48) ccw
  line L21 (37, 50) -> (43, 50)
  arc A33 (45, 48) -> (43, 50) centre (43, 48) ccw
  line L22 (45, 48) -> (45, -28)
  arc A34 (43, -30) -> (45, -28) centre (43, -28) ccw
  line L23 (43, -30) -> (37, -30)
  arc A35 (35, -28) -> (37, -30) centre (37, -28) ccw
  circle A36 centre (-25, -90) radius 1.5
  circle A37 centre (25, -90) radius 1.55
  circle A38 centre (-25, -70) radius 1.5
  circle A39 centre (25, -85) radius 1.55
  circle A40 centre (25, -70) radius 1.55
  circle A41 centre (-25, -85) radius 1.5
  circle A42 centre (-25, -75) radius 1.5
  circle A43 centre (25, -80) radius 1.55
  circle A44 centre (25, -75) radius 1.55
  circle A45 centre (-25, -80) radius 1.5
  dimension "d203" = 8
  dimension "d204" = 80
  dimension "d205" = 30
  dimension "d206" = 2.9
extrude "Extrude23" add sketch "dalsi_patro" along normal blind 35 contours A20 | A22 | A24 | A25
extrude "Extrude24" cut sketch "podklad" along normal blind 10 contours A9 | A10 | A11 | L19 L20 L21 L22 L23 L24 A12 A13
sketch "oled_sloupky" plane through (0, 4, 0) normal (0, 1, 0) x (-1, 0, 0)
  circle A0 centre (-80, -30) radius 4
  circle A1 centre (-80, 30) radius 4
  circle A2 centre (-25, -80) radius 1.5
  circle A3 centre (25, -75) radius 1.55
  line L0 (-35, 48) -> (-35, -28)
  arc A4 (-37, -30) -> (-35, -28) centre (-37, -28) ccw
  line L1 (-37, -30) -> (-43, -30)
  arc A5 (-45, -28) -> (-43, -30) centre (-43, -28) ccw
  line L2 (-45, -28) -> (-45, 48)
  arc A6 (-43, 50) -> (-45, 48) centre (-43, 48) ccw
  line L3 (-43, 50) -> (-37, 50)
  arc A7 (-35, 48) -> (-37, 50) centre (-37, 48) ccw
  circle A8 centre (50, -45) radius 3.5
  circle A9 centre (20, -45) radius 9.6
  circle A10 centre (0.0755, 75) radius 12.5
  circle A11 centre (25, -90) radius 1.55
  circle A12 centre (25, -80) radius 1.55
  circle A13 centre (-25, -75) radius 1.5
  circle A14 centre (-25, -85) radius 1.5
  circle A15 centre (25, -70) radius 1.55
  line L4 (35, -28) -> (35, 48)
  arc A16 (37, 50) -> (35, 48) centre (37, 48) ccw
  line L5 (37, 50) -> (43, 50)
  arc A17 (45, 48) -> (43, 50) centre (43, 48) ccw
  line L6 (45, 48) -> (45, -28)
  arc A18 (43, -30) -> (45, -28) centre (43, -28) ccw
  line L7 (43, -30) -> (37, -30)
  arc A19 (35, -28) -> (37, -30) centre (37, -28) ccw
  circle A20 centre (-50, -45) radius 3.5
  circle A21 centre (-20, -45) radius 9.6
  circle A22 centre (0, 0) radius 10
  circle A23 centre (-25, -90) radius 1.5
  circle A24 centre (25, -85) radius 1.55
  circle A25 centre (-25, -70) radius 1.5
  circle A26 centre (24.5, 29) radius 3
  circle A27 centre (24.5, -29) radius 3
  circle A28 centre (-30, 94.9953) radius 3.5
  circle A29 centre (29.9934, -95.0047) radius 3.5
  circle A30 centre (30, 94.9953) radius 3.5
  circle A31 centre (-29.9934, -95.0047) radius 3.5
  arc A32 (96.7154, 33.4277) -> (98.5934, 36.1156) centre (96.7154, 35.4277) ccw
  arc A33 (98.5934, 36.1156) -> (-98.5934, 36.1156) centre (0, 0) ccw
  arc A34 (-98.5934, 36.1156) -> (-96.7154, 33.4277) centre (-96.7154, 35.4277) ccw
  line L8 (-96.7154, 33.4277) -> (-85, 33.4277)
  line L9 (-85, 33.4277) -> (-85, 23.4927)
  line L10 (-85, 23.4927) -> (-74.9628, 23.4927)
  line L11 (-74.9628, 23.4927) -> (-74.9628, -23.5073)
  line L12 (-74.9628, -23.5073) -> (-85, -23.5073)
  line L13 (-85, -23.5073) -> (-85, -33.4364)
  line L14 (-85, -33.4364) -> (-96.7123, -33.4364)
  arc A35 (-96.7123, -33.4364) -> (-98.5902, -36.1245) centre (-96.7123, -35.4364) ccw
  arc A36 (-98.5902, -36.1245) -> (98.5902, -36.1245) centre (0, 0) ccw
  arc A37 (98.5902, -36.1245) -> (96.7123, -33.4364) centre (96.7123, -35.4364) ccw
  line L15 (96.7123, -33.4364) -> (85, -33.4364)
  line L16 (85, -33.4364) -> (85, -23.5073)
  line L17 (85, -23.5073) -> (75.0372, -23.5073)
  line L18 (75.0372, -23.5073) -> (75.0372, 23.4927)
  line L19 (75.0372, 23.4927) -> (85, 23.4927)
  line L20 (85, 23.4927) -> (85, 33.4277)
  line L21 (85, 33.4277) -> (96.7154, 33.4277)
  circle A38 centre (-24.5, -29) radius 3
  circle A39 centre (-24.5, 29) radius 3
  circle A40 centre (80, 30) radius 4
  circle A41 centre (80, -30) radius 4
  line L22 (73, -42.1) -> (77, -42.1)
  line L23 (77, -42.1) -> (77, -43.0313)
  arc A42 (77, -56.9687) -> (77, -43.0313) centre (75, -50) ccw
  line L24 (77, -56.9687) -> (77, -57.9)
  line L25 (77, -57.9) -> (73, -57.9)
  line L26 (73, -57.9) -> (73, -56.9687)
  arc A43 (73, -43.0313) -> (73, -56.9687) centre (75, -50) ccw
  line L27 (73, -43.0313) -> (73, -42.1)
  line L28 (-70, 69) -> (-40, 69) construction
  line L29 (-40, 69) -> (-40, 40) construction
  line L30 (-40, 40) -> (-70, 40) construction
  line L31 (-70, 40) -> (-70, 69) construction
  line L32 (-2.5, 0) -> (-20, 0) construction
  line L33 (0, 20) -> (0, 2.5) construction
  circle A44 centre (-70, 69) radius 3
  circle A45 centre (-70, 40) radius 3
  circle A46 centre (-40, 69) radius 3
  circle A47 centre (-70, 69) radius 1.2
  circle A48 centre (-70, 40) radius 1.2
  circle A49 centre (-40, 69) radius 1.2
  circle A50 centre (40, 69) radius 3
  circle A51 centre (40, 69) radius 1.2
  circle A52 centre (70, 69) radius 3
  circle A53 centre (70, 69) radius 1.2
  circle A54 centre (70, 40) radius 3
  circle A55 centre (70, 40) radius 1.2
  dimension "d226" = 30
  dimension "d227" = 29
  dimension "d228" = 40
  dimension "d229" = 40
  dimension "d231" = 6
  dimension "d232" = 6
  dimension "d233" = 6
  dimension "d234" = 2.4
  dimension "d235" = 2.4
  dimension "d236" = 2.4
extrude "Extrude25" add sketch "oled_sloupky" along normal blind 20 contours A44 | A45 | A46 | A50 | A52 | A54
equation "d161 = ( 58 / 2 ) * 1 mm"
